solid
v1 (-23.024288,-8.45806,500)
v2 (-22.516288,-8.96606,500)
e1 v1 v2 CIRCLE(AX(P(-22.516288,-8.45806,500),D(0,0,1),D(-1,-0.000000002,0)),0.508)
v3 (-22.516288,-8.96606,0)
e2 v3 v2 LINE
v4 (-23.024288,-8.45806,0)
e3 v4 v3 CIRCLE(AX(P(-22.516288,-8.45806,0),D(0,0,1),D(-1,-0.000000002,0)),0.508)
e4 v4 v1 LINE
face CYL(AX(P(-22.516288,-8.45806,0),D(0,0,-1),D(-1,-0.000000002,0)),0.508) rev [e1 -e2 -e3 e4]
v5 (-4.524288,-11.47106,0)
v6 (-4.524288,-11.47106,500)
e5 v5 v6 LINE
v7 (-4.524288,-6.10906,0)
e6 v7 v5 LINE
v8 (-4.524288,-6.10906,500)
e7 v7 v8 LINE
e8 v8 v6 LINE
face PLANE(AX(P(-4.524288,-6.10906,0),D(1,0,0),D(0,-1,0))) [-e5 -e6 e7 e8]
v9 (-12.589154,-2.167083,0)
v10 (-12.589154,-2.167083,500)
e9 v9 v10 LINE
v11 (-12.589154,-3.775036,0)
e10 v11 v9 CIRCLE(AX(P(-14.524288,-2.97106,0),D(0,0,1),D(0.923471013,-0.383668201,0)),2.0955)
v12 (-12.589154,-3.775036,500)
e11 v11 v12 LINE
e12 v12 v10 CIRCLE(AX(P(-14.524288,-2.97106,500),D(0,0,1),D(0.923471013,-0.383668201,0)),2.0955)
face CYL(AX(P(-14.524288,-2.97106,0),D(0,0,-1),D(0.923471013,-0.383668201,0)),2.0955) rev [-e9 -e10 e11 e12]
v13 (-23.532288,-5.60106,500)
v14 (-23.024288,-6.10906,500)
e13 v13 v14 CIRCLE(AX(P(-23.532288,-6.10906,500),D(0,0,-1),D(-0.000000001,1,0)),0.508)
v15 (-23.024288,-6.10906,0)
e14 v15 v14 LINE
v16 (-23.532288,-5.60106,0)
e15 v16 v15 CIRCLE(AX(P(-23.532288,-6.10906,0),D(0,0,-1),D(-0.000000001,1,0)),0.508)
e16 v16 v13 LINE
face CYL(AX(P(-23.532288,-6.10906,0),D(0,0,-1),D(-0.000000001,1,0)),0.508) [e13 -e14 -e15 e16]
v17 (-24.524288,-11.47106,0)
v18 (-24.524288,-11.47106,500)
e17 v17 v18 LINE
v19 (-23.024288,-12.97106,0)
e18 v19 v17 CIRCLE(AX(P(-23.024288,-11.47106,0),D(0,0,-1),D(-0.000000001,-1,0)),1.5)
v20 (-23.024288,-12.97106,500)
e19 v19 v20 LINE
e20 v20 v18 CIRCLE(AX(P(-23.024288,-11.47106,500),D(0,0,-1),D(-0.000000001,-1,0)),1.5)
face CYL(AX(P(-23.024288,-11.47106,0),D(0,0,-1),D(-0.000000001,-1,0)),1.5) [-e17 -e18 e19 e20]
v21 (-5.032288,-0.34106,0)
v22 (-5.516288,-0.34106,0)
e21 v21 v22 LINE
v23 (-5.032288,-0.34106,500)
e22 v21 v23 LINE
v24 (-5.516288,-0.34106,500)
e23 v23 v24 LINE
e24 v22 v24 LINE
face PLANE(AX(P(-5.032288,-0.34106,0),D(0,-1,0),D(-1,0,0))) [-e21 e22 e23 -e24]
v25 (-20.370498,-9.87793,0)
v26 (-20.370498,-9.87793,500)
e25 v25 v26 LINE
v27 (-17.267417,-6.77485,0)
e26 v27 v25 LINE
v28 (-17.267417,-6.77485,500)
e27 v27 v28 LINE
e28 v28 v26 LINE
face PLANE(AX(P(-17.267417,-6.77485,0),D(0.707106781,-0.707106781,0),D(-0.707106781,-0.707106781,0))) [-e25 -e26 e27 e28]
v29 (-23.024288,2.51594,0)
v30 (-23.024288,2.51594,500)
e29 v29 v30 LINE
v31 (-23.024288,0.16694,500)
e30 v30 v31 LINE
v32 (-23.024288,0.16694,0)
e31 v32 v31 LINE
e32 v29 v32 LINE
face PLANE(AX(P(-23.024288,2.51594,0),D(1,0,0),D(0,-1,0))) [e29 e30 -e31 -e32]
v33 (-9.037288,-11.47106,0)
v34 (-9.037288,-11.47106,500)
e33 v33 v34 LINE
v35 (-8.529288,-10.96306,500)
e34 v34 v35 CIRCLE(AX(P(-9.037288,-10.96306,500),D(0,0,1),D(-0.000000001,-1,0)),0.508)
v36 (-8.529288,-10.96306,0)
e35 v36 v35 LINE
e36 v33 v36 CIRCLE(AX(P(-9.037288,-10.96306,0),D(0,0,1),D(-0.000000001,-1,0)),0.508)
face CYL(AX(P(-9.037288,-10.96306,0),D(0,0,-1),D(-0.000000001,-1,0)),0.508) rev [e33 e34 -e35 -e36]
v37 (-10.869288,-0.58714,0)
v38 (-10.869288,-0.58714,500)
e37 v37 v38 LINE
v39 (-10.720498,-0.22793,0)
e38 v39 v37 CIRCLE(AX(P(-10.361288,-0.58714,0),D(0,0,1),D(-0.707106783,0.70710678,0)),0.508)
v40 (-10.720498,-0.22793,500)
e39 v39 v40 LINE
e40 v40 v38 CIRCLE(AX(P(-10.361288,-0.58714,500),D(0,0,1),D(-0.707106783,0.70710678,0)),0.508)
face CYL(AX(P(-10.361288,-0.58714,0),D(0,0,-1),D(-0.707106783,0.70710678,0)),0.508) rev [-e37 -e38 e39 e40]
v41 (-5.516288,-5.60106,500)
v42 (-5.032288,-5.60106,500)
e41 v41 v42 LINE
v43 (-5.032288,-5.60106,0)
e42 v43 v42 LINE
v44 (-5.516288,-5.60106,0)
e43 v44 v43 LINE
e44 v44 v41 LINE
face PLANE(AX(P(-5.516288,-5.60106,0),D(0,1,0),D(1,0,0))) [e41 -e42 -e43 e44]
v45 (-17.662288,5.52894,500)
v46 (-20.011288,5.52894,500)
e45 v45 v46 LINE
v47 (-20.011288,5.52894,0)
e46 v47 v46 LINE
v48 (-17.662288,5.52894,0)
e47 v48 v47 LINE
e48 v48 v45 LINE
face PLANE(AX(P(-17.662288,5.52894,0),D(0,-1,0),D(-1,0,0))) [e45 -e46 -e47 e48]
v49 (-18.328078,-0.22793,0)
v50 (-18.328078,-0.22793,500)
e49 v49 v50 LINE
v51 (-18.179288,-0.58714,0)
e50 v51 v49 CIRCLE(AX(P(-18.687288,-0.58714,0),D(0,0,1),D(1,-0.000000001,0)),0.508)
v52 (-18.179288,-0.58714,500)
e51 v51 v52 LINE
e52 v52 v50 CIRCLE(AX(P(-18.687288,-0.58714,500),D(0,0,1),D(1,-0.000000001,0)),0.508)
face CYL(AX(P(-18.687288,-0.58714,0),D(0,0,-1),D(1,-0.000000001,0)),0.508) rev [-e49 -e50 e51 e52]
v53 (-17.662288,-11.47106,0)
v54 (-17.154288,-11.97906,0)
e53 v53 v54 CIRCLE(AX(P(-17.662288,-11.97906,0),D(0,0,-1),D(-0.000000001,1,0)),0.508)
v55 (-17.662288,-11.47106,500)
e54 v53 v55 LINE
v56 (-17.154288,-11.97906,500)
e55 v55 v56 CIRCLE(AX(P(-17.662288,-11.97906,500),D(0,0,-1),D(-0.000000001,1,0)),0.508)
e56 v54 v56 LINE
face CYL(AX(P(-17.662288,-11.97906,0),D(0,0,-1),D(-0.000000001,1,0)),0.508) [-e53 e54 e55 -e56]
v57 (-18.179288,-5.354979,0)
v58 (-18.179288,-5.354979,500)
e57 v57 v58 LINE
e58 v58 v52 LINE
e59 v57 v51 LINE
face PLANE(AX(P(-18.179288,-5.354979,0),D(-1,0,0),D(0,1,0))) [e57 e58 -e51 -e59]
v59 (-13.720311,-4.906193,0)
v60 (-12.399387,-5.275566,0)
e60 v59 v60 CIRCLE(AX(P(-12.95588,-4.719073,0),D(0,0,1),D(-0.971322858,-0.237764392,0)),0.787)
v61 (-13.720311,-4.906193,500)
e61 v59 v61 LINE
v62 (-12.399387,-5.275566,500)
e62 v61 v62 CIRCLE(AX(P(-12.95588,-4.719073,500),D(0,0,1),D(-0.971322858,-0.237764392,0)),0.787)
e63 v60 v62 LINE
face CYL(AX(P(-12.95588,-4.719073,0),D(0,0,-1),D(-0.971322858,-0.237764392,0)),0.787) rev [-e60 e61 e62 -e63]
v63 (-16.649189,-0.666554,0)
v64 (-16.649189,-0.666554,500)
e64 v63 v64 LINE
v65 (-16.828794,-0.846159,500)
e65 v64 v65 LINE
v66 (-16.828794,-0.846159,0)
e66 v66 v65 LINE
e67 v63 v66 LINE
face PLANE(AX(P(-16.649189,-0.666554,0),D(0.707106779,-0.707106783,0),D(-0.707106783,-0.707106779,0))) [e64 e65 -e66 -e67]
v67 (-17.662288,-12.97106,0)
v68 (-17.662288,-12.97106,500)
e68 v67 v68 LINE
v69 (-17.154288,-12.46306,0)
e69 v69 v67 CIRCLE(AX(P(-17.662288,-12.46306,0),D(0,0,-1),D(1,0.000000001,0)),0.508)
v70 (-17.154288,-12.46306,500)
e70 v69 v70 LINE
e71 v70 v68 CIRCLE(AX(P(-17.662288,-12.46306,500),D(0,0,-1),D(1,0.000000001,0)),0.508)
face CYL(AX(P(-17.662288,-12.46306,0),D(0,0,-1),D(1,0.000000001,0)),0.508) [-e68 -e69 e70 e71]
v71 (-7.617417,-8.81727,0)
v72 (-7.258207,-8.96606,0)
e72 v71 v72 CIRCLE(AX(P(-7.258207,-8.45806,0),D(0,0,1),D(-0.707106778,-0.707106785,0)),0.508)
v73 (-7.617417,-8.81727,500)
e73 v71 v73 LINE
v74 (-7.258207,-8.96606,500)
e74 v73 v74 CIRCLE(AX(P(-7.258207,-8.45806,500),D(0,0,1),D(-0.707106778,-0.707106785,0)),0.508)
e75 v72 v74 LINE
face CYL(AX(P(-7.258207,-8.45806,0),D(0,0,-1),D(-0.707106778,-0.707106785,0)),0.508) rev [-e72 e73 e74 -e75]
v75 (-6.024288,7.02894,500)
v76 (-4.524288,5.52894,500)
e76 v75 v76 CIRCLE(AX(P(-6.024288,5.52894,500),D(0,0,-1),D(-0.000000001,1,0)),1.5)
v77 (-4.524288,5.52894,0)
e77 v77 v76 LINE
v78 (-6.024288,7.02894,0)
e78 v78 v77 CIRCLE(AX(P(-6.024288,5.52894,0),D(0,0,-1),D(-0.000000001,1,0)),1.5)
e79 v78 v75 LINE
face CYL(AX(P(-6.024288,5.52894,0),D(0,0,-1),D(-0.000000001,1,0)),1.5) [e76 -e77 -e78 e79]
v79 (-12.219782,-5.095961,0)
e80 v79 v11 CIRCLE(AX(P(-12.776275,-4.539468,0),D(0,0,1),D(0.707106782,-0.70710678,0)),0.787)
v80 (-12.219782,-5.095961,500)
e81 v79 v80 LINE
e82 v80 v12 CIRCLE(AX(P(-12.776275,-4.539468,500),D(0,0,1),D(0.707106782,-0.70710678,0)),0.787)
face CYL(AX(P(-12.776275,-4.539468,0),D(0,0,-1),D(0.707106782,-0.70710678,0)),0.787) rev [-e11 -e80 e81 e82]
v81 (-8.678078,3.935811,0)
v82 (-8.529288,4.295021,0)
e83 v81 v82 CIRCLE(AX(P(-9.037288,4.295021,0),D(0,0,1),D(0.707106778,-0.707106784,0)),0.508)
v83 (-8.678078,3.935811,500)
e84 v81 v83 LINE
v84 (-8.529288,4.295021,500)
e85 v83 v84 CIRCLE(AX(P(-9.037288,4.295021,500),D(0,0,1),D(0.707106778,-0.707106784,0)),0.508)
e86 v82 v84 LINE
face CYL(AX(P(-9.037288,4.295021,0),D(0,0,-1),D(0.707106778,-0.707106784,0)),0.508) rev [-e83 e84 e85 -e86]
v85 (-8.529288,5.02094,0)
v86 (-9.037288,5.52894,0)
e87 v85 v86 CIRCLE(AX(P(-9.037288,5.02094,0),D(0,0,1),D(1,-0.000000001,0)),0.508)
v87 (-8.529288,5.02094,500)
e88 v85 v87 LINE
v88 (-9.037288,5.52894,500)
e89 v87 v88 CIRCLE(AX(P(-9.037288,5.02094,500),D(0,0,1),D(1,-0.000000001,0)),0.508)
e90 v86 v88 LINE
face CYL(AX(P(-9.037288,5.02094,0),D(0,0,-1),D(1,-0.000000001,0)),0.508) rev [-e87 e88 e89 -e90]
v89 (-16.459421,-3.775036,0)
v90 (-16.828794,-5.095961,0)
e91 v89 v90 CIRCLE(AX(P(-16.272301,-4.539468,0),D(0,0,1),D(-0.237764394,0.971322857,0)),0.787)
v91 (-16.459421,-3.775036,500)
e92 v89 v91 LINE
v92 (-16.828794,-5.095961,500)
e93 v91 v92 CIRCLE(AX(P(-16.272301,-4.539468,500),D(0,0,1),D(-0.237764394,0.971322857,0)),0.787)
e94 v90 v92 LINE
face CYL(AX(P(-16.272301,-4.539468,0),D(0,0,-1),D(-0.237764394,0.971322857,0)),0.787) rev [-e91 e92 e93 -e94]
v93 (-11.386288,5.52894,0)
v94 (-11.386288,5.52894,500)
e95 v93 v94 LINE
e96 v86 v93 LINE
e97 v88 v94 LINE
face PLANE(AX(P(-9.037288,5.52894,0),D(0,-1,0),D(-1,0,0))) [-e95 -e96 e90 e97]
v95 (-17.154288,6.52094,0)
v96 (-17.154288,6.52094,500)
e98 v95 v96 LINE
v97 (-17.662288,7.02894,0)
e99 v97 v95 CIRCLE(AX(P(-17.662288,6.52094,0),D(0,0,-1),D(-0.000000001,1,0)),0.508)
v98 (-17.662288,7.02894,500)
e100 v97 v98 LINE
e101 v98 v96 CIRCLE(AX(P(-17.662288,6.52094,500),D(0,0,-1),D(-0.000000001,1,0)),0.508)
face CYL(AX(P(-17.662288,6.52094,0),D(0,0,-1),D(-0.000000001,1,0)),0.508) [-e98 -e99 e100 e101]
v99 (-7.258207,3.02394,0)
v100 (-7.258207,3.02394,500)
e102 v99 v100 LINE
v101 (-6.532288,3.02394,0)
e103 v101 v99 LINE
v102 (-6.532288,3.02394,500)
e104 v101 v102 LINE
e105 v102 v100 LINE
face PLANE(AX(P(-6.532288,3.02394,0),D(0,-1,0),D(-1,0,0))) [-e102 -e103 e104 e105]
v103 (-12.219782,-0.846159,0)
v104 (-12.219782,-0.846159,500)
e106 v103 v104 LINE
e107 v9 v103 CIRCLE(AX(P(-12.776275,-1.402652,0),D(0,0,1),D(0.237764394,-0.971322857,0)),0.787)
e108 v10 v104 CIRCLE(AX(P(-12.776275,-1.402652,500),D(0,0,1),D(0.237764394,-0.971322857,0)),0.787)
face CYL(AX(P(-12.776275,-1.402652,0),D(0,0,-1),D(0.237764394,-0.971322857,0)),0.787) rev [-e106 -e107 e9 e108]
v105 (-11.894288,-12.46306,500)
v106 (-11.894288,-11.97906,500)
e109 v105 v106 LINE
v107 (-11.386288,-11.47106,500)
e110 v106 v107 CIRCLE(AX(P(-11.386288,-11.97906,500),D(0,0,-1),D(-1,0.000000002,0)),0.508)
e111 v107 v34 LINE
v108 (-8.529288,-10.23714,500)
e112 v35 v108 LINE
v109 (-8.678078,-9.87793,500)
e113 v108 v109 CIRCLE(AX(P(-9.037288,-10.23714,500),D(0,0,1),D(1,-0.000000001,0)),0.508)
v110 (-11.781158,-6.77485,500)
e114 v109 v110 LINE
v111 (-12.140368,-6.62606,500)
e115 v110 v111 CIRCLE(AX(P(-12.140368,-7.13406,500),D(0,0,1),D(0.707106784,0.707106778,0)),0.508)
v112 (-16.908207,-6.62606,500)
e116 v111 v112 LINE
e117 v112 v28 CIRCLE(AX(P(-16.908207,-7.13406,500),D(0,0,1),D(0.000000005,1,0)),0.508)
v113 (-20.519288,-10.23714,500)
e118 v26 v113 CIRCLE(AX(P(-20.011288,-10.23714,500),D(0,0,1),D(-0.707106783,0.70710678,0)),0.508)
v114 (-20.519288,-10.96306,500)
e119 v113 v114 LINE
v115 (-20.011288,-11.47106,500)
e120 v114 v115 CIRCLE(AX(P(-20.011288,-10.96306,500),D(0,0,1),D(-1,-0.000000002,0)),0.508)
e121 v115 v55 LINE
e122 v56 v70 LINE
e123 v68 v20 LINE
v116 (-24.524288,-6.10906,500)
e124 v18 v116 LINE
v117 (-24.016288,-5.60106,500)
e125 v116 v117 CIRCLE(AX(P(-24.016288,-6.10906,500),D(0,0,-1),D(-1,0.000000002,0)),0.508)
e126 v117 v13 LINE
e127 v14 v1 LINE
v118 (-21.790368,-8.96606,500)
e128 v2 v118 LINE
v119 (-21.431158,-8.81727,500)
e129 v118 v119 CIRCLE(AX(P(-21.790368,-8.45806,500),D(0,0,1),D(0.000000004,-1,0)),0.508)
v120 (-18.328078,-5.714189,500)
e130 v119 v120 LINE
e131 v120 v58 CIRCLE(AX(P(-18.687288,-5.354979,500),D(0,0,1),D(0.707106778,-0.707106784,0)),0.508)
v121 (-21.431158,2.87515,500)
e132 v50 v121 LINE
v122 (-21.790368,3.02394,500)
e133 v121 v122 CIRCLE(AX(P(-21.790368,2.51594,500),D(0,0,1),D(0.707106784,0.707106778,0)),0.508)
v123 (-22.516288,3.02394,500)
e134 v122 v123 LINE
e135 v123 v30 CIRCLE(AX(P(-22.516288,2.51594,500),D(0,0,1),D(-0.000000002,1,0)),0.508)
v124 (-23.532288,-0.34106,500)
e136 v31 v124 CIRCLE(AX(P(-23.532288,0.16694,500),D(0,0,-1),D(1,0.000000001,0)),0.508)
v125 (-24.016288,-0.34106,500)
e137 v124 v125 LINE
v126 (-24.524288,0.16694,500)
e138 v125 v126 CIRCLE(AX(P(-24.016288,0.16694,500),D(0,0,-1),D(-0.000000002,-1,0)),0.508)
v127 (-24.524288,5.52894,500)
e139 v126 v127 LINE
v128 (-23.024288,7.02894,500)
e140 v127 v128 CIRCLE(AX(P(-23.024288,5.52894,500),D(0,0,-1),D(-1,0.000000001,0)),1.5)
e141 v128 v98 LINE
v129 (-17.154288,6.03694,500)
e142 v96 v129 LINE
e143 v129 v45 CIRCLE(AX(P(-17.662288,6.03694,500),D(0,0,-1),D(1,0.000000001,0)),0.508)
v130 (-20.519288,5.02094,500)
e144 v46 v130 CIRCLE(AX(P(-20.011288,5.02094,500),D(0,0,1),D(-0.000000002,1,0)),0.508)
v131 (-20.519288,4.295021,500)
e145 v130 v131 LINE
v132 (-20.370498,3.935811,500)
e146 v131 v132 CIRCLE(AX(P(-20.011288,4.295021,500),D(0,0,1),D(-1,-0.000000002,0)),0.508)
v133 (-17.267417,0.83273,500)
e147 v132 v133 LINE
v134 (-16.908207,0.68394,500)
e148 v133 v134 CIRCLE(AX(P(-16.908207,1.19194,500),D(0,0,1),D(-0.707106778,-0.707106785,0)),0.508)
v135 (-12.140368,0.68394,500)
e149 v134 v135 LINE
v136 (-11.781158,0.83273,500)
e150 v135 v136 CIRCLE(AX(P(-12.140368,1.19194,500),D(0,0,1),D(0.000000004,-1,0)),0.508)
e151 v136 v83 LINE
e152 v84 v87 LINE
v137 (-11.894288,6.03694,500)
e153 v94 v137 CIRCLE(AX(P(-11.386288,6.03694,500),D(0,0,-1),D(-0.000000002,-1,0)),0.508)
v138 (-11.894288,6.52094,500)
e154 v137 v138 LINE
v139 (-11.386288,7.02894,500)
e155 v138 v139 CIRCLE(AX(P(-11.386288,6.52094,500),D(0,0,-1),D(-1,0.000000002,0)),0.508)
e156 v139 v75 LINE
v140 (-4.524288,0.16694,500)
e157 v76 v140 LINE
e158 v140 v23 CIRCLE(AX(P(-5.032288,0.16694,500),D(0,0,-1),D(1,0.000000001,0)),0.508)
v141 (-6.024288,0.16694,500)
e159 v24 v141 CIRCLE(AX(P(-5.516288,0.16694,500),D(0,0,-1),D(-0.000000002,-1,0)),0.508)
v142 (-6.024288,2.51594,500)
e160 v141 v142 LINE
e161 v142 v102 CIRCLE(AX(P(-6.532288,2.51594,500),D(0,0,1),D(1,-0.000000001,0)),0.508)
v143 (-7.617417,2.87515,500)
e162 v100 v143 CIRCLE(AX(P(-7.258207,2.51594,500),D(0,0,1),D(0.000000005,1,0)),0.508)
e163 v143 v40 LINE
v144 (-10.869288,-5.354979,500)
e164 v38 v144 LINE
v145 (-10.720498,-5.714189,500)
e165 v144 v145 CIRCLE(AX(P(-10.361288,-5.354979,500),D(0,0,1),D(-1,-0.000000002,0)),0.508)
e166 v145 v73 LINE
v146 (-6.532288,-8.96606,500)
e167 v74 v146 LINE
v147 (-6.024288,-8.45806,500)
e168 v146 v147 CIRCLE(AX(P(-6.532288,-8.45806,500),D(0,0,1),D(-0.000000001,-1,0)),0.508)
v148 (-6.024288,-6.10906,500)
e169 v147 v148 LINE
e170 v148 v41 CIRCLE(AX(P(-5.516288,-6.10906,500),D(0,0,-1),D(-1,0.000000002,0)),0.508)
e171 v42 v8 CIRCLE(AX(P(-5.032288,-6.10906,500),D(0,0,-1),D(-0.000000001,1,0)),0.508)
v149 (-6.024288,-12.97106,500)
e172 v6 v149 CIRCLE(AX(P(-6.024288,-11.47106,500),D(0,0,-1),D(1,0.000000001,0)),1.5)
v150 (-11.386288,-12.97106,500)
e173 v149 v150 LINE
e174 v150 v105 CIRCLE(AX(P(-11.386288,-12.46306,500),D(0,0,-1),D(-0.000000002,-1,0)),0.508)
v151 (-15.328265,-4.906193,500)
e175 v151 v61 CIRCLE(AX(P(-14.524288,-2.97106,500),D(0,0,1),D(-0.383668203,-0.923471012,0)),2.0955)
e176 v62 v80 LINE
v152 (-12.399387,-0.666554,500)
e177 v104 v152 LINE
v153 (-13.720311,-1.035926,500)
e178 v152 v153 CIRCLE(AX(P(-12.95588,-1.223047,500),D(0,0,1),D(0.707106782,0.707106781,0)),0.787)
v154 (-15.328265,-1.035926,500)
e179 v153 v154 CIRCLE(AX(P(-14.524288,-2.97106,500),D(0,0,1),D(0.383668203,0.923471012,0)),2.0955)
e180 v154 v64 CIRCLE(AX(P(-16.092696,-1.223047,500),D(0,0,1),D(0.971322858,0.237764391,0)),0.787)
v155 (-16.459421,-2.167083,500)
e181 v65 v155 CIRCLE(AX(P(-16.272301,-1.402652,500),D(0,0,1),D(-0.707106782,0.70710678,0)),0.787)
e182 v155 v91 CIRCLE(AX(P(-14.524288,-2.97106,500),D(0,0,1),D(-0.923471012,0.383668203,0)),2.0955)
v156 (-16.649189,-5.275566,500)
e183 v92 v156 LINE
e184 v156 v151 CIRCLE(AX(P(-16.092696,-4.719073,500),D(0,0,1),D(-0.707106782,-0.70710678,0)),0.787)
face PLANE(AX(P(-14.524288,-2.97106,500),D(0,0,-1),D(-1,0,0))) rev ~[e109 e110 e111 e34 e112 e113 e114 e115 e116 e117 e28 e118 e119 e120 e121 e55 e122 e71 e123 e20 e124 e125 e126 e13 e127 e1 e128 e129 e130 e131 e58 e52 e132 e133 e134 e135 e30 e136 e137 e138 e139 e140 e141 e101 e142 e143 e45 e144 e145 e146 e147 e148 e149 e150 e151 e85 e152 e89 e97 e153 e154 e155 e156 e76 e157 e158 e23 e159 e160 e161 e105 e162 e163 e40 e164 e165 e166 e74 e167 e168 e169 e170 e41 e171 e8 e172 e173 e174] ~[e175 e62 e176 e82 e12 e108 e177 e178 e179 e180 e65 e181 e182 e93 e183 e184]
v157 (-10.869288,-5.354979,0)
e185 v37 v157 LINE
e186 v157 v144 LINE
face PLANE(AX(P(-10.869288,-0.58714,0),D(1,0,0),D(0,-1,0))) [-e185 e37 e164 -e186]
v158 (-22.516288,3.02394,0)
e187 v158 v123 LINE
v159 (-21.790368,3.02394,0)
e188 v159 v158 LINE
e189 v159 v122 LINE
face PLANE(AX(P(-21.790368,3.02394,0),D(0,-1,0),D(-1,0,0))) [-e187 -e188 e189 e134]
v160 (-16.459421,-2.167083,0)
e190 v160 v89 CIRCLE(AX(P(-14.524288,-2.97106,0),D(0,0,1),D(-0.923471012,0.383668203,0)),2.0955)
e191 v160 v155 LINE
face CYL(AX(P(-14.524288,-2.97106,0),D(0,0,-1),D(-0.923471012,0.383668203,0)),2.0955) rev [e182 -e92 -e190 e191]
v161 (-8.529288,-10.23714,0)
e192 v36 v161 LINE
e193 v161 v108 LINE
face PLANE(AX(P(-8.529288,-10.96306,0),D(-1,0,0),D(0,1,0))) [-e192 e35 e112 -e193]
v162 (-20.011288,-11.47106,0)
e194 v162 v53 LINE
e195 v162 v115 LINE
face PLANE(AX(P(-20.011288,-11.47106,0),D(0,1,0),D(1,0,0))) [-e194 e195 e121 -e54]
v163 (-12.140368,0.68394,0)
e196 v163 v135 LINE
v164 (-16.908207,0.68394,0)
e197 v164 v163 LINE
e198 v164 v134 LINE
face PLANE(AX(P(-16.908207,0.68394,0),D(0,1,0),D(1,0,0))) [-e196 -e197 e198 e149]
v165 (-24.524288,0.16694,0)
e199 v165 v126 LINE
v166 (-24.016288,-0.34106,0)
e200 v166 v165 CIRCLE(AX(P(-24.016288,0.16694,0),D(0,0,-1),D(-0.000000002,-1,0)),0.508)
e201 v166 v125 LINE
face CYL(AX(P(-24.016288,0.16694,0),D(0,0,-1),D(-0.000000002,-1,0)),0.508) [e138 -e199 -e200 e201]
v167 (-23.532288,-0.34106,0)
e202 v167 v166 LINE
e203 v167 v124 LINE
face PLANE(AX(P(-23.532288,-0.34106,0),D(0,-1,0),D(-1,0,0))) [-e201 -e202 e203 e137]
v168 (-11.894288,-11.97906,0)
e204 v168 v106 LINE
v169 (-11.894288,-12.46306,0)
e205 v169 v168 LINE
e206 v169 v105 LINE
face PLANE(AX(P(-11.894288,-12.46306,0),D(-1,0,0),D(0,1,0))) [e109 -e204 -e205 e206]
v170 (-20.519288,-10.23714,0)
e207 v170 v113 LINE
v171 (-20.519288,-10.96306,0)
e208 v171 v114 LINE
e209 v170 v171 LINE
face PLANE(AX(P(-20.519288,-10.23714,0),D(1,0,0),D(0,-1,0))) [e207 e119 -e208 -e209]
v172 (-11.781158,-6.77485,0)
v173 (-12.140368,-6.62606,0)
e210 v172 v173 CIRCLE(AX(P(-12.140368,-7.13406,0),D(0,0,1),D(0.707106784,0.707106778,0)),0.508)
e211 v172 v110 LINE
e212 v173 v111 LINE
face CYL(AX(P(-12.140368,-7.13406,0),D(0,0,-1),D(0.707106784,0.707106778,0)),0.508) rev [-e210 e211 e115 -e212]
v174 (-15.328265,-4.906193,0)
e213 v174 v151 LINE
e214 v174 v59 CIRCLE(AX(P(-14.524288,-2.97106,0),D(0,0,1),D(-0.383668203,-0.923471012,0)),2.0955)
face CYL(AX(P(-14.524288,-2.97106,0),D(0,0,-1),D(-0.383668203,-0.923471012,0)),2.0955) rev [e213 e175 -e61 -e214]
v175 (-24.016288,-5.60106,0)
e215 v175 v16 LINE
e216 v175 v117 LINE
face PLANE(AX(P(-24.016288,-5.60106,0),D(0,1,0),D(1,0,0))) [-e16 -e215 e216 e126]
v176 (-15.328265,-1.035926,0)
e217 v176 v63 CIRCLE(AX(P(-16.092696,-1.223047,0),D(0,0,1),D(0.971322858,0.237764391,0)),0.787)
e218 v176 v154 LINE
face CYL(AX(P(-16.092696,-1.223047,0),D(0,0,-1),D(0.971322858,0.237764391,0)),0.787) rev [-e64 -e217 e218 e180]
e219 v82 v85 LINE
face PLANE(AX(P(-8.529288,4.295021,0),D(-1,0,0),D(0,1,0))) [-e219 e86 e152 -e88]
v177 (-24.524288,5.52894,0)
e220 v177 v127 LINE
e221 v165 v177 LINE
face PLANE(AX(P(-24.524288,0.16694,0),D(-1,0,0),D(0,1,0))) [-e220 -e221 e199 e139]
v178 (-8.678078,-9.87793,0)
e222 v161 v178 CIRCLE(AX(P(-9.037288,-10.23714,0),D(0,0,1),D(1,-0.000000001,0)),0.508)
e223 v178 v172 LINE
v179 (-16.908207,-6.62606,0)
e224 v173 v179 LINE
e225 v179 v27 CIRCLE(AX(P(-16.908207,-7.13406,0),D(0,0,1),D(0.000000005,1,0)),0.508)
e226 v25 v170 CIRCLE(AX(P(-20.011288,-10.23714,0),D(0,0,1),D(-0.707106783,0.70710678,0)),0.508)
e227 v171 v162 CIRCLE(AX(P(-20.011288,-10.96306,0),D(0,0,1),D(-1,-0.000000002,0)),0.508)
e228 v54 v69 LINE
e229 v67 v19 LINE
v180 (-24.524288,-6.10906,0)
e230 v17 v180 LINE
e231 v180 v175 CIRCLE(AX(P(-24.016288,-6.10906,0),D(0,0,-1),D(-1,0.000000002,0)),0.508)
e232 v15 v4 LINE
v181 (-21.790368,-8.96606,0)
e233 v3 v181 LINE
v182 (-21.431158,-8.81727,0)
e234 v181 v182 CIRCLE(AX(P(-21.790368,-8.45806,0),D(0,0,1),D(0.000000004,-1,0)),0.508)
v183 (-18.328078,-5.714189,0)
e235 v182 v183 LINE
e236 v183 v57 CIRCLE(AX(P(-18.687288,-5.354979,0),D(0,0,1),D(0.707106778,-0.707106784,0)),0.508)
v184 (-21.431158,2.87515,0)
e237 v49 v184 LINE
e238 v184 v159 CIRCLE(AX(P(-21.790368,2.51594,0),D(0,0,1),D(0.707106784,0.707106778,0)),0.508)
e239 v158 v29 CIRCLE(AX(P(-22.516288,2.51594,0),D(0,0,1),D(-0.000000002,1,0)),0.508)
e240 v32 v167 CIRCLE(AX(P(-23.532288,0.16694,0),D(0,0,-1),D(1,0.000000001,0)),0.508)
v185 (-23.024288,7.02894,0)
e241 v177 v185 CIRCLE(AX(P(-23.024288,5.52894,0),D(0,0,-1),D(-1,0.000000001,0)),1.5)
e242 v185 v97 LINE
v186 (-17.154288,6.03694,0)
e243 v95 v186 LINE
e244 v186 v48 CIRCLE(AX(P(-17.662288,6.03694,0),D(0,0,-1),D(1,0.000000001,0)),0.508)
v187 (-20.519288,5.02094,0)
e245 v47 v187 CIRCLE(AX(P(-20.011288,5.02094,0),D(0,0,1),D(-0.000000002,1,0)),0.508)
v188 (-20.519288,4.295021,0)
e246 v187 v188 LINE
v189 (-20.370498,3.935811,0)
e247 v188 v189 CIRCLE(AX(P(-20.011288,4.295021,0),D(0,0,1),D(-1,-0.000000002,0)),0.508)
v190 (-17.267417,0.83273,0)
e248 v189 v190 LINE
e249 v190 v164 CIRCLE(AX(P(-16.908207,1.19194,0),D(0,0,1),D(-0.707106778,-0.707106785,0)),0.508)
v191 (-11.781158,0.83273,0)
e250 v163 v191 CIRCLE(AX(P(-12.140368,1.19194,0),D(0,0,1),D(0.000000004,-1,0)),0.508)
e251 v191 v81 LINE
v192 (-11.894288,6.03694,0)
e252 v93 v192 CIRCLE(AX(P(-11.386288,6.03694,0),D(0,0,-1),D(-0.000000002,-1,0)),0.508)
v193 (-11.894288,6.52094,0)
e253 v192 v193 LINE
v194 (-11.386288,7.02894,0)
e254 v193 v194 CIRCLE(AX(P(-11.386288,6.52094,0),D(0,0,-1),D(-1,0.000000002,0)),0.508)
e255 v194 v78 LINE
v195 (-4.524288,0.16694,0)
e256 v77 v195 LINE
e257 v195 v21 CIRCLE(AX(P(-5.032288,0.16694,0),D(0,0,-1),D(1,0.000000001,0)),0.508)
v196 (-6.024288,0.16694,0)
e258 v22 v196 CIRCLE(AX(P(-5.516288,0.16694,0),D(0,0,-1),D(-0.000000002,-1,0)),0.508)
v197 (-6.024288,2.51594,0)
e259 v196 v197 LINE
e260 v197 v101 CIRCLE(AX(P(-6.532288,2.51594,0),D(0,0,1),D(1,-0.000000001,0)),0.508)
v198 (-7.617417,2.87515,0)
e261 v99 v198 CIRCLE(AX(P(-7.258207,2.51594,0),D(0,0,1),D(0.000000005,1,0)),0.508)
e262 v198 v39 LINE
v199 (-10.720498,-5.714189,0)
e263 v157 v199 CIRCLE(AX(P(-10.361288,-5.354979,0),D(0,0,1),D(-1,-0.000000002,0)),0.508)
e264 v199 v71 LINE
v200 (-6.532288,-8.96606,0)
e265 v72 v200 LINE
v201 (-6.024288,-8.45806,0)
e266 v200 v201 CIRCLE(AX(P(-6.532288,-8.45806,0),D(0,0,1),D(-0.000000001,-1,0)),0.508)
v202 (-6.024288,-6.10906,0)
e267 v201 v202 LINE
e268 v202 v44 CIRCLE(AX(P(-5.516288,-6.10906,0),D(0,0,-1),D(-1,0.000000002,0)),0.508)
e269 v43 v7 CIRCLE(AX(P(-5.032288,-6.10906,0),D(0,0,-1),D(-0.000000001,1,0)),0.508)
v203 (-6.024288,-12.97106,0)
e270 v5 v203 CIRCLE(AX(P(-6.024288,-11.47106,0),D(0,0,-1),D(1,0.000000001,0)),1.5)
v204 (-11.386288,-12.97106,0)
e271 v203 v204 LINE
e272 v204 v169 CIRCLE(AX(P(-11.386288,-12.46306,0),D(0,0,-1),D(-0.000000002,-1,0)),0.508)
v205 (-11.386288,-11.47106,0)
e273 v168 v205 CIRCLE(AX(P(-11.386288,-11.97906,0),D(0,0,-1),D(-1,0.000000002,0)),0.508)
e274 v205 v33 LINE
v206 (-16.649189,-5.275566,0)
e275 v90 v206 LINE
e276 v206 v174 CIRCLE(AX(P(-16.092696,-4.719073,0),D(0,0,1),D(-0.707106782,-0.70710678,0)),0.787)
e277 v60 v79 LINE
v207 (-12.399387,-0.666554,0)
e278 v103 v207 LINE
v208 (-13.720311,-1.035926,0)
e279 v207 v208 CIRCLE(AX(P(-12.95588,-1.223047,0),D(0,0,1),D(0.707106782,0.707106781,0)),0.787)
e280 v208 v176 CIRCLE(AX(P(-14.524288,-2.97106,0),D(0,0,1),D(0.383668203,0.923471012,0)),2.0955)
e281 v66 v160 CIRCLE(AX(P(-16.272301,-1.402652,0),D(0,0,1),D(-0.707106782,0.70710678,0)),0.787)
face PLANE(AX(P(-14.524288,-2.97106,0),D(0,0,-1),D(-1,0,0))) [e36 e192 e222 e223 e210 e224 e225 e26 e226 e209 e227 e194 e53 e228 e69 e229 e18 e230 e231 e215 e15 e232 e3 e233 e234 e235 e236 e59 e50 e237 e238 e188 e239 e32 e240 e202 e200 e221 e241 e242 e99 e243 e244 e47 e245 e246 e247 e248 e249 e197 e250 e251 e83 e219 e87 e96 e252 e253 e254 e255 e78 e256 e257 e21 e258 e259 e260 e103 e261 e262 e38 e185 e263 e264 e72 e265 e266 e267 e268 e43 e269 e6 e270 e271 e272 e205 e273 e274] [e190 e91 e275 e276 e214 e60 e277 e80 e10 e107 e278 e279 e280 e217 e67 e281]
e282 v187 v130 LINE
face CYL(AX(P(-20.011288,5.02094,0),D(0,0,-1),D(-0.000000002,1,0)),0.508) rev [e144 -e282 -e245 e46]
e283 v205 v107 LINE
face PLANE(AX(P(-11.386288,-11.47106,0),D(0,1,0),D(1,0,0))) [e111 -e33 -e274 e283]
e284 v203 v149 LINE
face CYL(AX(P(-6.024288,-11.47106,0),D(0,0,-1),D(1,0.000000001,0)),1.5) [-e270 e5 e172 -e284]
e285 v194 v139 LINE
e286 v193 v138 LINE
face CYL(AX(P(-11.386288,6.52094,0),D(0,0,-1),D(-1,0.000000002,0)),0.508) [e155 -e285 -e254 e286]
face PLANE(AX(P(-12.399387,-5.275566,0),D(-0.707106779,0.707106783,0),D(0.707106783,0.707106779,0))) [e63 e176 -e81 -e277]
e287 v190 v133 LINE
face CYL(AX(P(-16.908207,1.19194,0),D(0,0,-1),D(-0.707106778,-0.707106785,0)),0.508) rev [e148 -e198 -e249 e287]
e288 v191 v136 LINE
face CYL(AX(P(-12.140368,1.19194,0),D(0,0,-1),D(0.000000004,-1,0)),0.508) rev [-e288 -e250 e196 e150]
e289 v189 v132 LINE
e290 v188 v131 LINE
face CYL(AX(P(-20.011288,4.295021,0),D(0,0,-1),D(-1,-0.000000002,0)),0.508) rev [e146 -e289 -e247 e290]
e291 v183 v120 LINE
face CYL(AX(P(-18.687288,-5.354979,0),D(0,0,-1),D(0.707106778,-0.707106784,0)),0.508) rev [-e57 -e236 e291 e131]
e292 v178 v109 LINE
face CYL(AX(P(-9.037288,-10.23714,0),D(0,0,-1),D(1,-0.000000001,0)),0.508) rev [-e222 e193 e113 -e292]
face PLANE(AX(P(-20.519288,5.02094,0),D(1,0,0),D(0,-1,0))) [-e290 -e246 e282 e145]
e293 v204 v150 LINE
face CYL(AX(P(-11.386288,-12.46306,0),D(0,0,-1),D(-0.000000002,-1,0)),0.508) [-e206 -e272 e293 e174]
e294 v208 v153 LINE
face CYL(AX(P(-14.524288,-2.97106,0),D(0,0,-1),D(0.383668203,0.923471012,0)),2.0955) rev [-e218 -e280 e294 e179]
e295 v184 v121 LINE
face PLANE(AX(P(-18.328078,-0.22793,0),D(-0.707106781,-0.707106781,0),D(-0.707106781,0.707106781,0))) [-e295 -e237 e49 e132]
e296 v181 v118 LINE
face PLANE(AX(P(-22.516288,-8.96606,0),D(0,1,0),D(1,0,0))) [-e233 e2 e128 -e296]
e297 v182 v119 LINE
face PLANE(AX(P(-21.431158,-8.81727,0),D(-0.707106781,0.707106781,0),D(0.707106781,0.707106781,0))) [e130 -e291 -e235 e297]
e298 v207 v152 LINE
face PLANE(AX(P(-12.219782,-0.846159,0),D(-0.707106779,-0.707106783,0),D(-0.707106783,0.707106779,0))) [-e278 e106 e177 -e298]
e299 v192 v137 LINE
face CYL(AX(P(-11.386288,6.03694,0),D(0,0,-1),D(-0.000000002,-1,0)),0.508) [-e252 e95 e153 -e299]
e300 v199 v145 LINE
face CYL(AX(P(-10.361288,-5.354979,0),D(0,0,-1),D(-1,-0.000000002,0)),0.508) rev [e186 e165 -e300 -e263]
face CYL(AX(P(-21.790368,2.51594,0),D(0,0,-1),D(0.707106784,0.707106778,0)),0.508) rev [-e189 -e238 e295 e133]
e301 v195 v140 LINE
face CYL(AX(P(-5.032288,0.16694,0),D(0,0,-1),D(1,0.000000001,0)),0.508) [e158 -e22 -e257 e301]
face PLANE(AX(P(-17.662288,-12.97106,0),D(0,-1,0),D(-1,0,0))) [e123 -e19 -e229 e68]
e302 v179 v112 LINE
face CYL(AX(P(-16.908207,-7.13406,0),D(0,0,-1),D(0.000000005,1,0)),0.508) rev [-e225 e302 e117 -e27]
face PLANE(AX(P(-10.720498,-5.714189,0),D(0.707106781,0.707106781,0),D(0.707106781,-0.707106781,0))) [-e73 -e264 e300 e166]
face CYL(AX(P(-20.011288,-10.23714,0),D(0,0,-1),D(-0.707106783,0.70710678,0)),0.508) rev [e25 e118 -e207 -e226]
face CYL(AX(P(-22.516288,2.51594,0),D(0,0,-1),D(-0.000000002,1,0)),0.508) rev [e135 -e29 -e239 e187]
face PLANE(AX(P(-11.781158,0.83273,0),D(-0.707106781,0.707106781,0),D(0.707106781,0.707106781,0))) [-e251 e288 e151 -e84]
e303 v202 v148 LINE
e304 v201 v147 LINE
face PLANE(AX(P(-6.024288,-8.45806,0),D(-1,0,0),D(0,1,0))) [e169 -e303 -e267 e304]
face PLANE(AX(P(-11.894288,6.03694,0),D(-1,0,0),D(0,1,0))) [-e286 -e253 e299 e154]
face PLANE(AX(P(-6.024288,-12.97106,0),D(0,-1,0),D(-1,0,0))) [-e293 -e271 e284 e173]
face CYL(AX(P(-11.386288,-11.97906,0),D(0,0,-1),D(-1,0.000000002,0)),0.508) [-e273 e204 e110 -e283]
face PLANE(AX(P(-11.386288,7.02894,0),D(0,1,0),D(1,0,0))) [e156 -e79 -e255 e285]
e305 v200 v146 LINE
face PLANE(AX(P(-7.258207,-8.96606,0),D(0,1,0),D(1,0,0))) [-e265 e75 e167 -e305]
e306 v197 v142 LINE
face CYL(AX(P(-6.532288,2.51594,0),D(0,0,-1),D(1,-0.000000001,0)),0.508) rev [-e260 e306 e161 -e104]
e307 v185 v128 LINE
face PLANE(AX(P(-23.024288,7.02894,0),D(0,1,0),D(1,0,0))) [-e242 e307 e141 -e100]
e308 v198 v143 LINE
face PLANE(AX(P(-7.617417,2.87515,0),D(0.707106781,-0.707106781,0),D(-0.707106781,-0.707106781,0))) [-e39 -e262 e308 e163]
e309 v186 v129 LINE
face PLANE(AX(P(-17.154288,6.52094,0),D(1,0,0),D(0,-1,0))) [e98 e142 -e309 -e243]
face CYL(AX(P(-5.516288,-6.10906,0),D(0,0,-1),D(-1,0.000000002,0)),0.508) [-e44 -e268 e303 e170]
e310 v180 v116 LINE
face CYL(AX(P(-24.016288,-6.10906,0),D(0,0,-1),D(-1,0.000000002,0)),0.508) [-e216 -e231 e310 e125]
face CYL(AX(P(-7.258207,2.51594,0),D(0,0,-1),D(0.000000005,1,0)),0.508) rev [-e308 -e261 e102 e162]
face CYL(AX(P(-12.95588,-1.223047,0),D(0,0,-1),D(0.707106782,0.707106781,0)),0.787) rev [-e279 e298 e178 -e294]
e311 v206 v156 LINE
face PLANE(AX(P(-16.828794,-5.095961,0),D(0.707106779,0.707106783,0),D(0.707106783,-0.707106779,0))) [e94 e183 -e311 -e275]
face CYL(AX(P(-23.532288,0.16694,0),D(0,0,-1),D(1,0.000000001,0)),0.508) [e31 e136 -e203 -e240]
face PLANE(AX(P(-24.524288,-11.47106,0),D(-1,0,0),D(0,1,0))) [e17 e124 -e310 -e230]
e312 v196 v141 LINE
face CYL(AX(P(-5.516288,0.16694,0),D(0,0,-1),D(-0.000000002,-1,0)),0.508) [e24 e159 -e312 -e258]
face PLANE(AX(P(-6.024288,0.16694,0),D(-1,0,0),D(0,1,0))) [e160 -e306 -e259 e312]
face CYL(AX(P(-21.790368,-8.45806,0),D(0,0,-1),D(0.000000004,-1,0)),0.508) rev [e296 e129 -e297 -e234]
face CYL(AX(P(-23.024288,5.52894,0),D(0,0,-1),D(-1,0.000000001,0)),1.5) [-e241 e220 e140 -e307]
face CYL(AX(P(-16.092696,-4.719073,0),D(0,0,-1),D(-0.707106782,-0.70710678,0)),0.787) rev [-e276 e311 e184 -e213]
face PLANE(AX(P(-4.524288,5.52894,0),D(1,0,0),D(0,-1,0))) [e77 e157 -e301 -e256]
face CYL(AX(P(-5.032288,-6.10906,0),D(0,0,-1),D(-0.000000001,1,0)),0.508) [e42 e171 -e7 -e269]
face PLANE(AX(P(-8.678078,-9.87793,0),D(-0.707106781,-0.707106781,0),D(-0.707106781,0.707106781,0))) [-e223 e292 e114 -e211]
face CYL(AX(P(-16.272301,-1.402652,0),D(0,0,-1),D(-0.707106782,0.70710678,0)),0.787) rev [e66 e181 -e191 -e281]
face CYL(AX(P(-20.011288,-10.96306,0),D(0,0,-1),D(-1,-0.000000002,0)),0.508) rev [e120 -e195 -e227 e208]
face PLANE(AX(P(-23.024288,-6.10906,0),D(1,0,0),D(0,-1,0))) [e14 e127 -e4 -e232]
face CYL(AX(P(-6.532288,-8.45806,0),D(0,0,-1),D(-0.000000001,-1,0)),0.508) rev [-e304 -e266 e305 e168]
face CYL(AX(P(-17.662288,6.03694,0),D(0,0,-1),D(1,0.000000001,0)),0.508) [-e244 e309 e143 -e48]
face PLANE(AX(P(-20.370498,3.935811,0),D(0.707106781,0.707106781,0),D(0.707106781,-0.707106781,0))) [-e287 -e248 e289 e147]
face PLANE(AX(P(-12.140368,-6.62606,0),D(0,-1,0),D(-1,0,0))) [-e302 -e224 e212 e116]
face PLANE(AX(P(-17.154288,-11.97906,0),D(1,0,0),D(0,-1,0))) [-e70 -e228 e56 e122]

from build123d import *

# Parameters (mm, degrees)
EXTRUDE1_DEPTH = 500


with BuildPart() as part:
    # Sketch1 → Extrude1 (new body)
    with BuildSketch(Plane.XY):
        with BuildLine():
            Line((-5.032287798, -0.341059771), (-5.516287798, -0.341059771))
            ThreePointArc((-5.516287798, -0.341059771), (-5.875498042, -0.192270016), (-6.024287798, 0.166940229))
            Line((-6.024287798, 0.166940229), (-6.024287798, 2.515940229))
            ThreePointArc((-6.024287798, 2.515940229), (-6.173077553, 2.875150474), (-6.532287798, 3.023940229))
            Line((-6.532287798, 3.023940229), (-7.258207136, 3.023940229))
            ThreePointArc((-7.258207136, 3.023940229), (-7.45261032, 2.985271032), (-7.617417381, 2.875150474))
            Line((-7.617417381, 2.875150474), (-10.720498042, -0.227930187))
            ThreePointArc((-10.720498042, -0.227930187), (-10.8306186, -0.392737249), (-10.869287798, -0.587140432))
            Line((-10.869287798, -0.587140432), (-10.869287798, -5.354979109))
            ThreePointArc((-10.869287798, -5.354979109), (-10.8306186, -5.549382293), (-10.720498042, -5.714189354))
            Line((-10.720498042, -5.714189354), (-7.617417381, -8.817270016))
            ThreePointArc((-7.617417381, -8.817270016), (-7.45261032, -8.927390573), (-7.258207136, -8.966059771))
            Line((-7.258207136, -8.966059771), (-6.532287798, -8.966059771))
            ThreePointArc((-6.532287798, -8.966059771), (-6.173077553, -8.817270016), (-6.024287798, -8.458059771))
            Line((-6.024287798, -8.458059771), (-6.024287798, -6.109059771))
            ThreePointArc((-6.024287798, -6.109059771), (-5.875498042, -5.749849526), (-5.516287798, -5.601059771))
            Line((-5.516287798, -5.601059771), (-5.032287798, -5.601059771))
            ThreePointArc((-5.032287798, -5.601059771), (-4.673077553, -5.749849526), (-4.524287798, -6.109059771))
            Line((-4.524287798, -6.109059771), (-4.524287798, -11.471059771))
            ThreePointArc((-4.524287798, -11.471059771), (-4.963627626, -12.531719943), (-6.024287798, -12.971059771))
            Line((-6.024287798, -12.971059771), (-11.386287798, -12.971059771))
            ThreePointArc((-11.386287798, -12.971059771), (-11.745498042, -12.822270016), (-11.894287798, -12.463059771))
            Line((-11.894287798, -12.463059771), (-11.894287798, -11.979059771))
            ThreePointArc((-11.894287798, -11.979059771), (-11.745498042, -11.619849526), (-11.386287798, -11.471059771))
            Line((-11.386287798, -11.471059771), (-9.037287798, -11.471059771))
            ThreePointArc((-9.037287798, -11.471059771), (-8.678077553, -11.322270016), (-8.529287798, -10.963059771))
            Line((-8.529287798, -10.963059771), (-8.529287798, -10.237140432))
            ThreePointArc((-8.529287798, -10.237140432), (-8.567956995, -10.042737249), (-8.678077553, -9.877930187))
            Line((-8.678077553, -9.877930187), (-11.781158214, -6.774849526))
            ThreePointArc((-11.781158214, -6.774849526), (-11.945965275, -6.664728968), (-12.140368459, -6.626059771))
            Line((-12.140368459, -6.626059771), (-16.908207136, -6.626059771))
            ThreePointArc((-16.908207136, -6.626059771), (-17.10261032, -6.664728968), (-17.267417381, -6.774849526))
            Line((-17.267417381, -6.774849526), (-20.370498042, -9.877930187))
            ThreePointArc((-20.370498042, -9.877930187), (-20.4806186, -10.042737249), (-20.519287798, -10.237140432))
            Line((-20.519287798, -10.237140432), (-20.519287798, -10.963059771))
            ThreePointArc((-20.519287798, -10.963059771), (-20.370498042, -11.322270016), (-20.011287798, -11.471059771))
            Line((-20.011287798, -11.471059771), (-17.662287798, -11.471059771))
            ThreePointArc((-17.662287798, -11.471059771), (-17.303077553, -11.619849526), (-17.154287798, -11.979059771))
            Line((-17.154287798, -11.979059771), (-17.154287798, -12.463059771))
            ThreePointArc((-17.154287798, -12.463059771), (-17.303077553, -12.822270016), (-17.662287798, -12.971059771))
            Line((-17.662287798, -12.971059771), (-23.024287798, -12.971059771))
            ThreePointArc((-23.024287798, -12.971059771), (-24.084947969, -12.531719943), (-24.524287798, -11.471059771))
            Line((-24.524287798, -11.471059771), (-24.524287798, -6.109059771))
            ThreePointArc((-24.524287798, -6.109059771), (-24.375498042, -5.749849526), (-24.016287798, -5.601059771))
            Line((-24.016287798, -5.601059771), (-23.532287798, -5.601059771))
            ThreePointArc((-23.532287798, -5.601059771), (-23.173077553, -5.749849526), (-23.024287798, -6.109059771))
            Line((-23.024287798, -6.109059771), (-23.024287798, -8.458059771))
            ThreePointArc((-23.024287798, -8.458059771), (-22.875498042, -8.817270016), (-22.516287798, -8.966059771))
            Line((-22.516287798, -8.966059771), (-21.790368459, -8.966059771))
            ThreePointArc((-21.790368459, -8.966059771), (-21.595965275, -8.927390573), (-21.431158214, -8.817270016))
            Line((-21.431158214, -8.817270016), (-18.328077553, -5.714189354))
            ThreePointArc((-18.328077553, -5.714189354), (-18.217956995, -5.549382293), (-18.179287798, -5.354979109))
            Line((-18.179287798, -5.354979109), (-18.179287798, -0.587140432))
            ThreePointArc((-18.179287798, -0.587140432), (-18.217956995, -0.392737249), (-18.328077553, -0.227930187))
            Line((-18.328077553, -0.227930187), (-21.431158214, 2.875150474))
            ThreePointArc((-21.431158214, 2.875150474), (-21.595965275, 2.985271032), (-21.790368459, 3.023940229))
            Line((-21.790368459, 3.023940229), (-22.516287798, 3.023940229))
            ThreePointArc((-22.516287798, 3.023940229), (-22.875498042, 2.875150474), (-23.024287798, 2.515940229))
            Line((-23.024287798, 2.515940229), (-23.024287798, 0.166940229))
            ThreePointArc((-23.024287798, 0.166940229), (-23.173077553, -0.192270016), (-23.532287798, -0.341059771))
            Line((-23.532287798, -0.341059771), (-24.016287798, -0.341059771))
            ThreePointArc((-24.016287798, -0.341059771), (-24.375498042, -0.192270016), (-24.524287798, 0.166940229))
            Line((-24.524287798, 0.166940229), (-24.524287798, 5.528940229))
            ThreePointArc((-24.524287798, 5.528940229), (-24.084947969, 6.589600401), (-23.024287798, 7.028940229))
            Line((-23.024287798, 7.028940229), (-17.662287798, 7.028940229))
            ThreePointArc((-17.662287798, 7.028940229), (-17.303077553, 6.880150474), (-17.154287798, 6.520940229))
            Line((-17.154287798, 6.520940229), (-17.154287798, 6.036940229))
            ThreePointArc((-17.154287798, 6.036940229), (-17.303077553, 5.677729984), (-17.662287798, 5.528940229))
            Line((-17.662287798, 5.528940229), (-20.011287798, 5.528940229))
            ThreePointArc((-20.011287798, 5.528940229), (-20.370498042, 5.380150474), (-20.519287798, 5.020940229))
            Line((-20.519287798, 5.020940229), (-20.519287798, 4.295020891))
            ThreePointArc((-20.519287798, 4.295020891), (-20.4806186, 4.100617707), (-20.370498042, 3.935810646))
            Line((-20.370498042, 3.935810646), (-17.267417381, 0.832729984))
            ThreePointArc((-17.267417381, 0.832729984), (-17.10261032, 0.722609427), (-16.908207136, 0.683940229))
            Line((-16.908207136, 0.683940229), (-12.140368459, 0.683940229))
            ThreePointArc((-12.140368459, 0.683940229), (-11.945965275, 0.722609427), (-11.781158214, 0.832729984))
            Line((-11.781158214, 0.832729984), (-8.678077553, 3.935810646))
            ThreePointArc((-8.678077553, 3.935810646), (-8.567956995, 4.100617707), (-8.529287798, 4.295020891))
            Line((-8.529287798, 4.295020891), (-8.529287798, 5.020940229))
            ThreePointArc((-8.529287798, 5.020940229), (-8.678077553, 5.380150474), (-9.037287798, 5.528940229))
            Line((-9.037287798, 5.528940229), (-11.386287798, 5.528940229))
            ThreePointArc((-11.386287798, 5.528940229), (-11.745498042, 5.677729984), (-11.894287798, 6.036940229))
            Line((-11.894287798, 6.036940229), (-11.894287798, 6.520940229))
            ThreePointArc((-11.894287798, 6.520940229), (-11.745498042, 6.880150474), (-11.386287798, 7.028940229))
            Line((-11.386287798, 7.028940229), (-6.024287798, 7.028940229))
            ThreePointArc((-6.024287798, 7.028940229), (-4.963627626, 6.589600401), (-4.524287798, 5.528940229))
            Line((-4.524287798, 5.528940229), (-4.524287798, 0.166940229))
            ThreePointArc((-4.524287798, 0.166940229), (-4.673077553, -0.192270016), (-5.032287798, -0.341059771))
        make_face()
        with BuildLine():
            Line((-12.399386954, -5.275565737), (-12.219781831, -5.095960615))
            ThreePointArc((-12.219781831, -5.095960615), (-12.018349781, -4.327527582), (-12.589154291, -3.775036489))
            ThreePointArc((-12.589154291, -3.775036489), (-12.428787798, -2.971059771), (-12.589154291, -2.167083053))
            ThreePointArc((-12.589154291, -2.167083053), (-12.018349781, -1.61459196), (-12.219781831, -0.846158927))
            Line((-12.219781831, -0.846158927), (-12.399386954, -0.666553805))
            ThreePointArc((-12.399386954, -0.666553805), (-13.167819987, -0.465121754), (-13.72031108, -1.035926265))
            ThreePointArc((-13.72031108, -1.035926265), (-14.524287798, -0.875559771), (-15.328264516, -1.035926265))
            ThreePointArc((-15.328264516, -1.035926265), (-15.880755608, -0.465121754), (-16.649188641, -0.666553805))
            Line((-16.649188641, -0.666553805), (-16.828793764, -0.846158927))
            ThreePointArc((-16.828793764, -0.846158927), (-17.030225814, -1.61459196), (-16.459421304, -2.167083053))
            ThreePointArc((-16.459421304, -2.167083053), (-16.619787798, -2.971059771), (-16.459421304, -3.775036489))
            ThreePointArc((-16.459421304, -3.775036489), (-17.030225814, -4.327527582), (-16.828793764, -5.095960615))
            Line((-16.828793764, -5.095960615), (-16.649188641, -5.275565737))
            ThreePointArc((-16.649188641, -5.275565737), (-15.880755608, -5.476997788), (-15.328264516, -4.906193277))
            ThreePointArc((-15.328264516, -4.906193277), (-14.524287798, -5.066559771), (-13.72031108, -4.906193277))
            ThreePointArc((-13.72031108, -4.906193277), (-13.167819987, -5.476997788), (-12.399386954, -5.275565737))
        make_face(mode=Mode.SUBTRACT)
    extrude(amount=EXTRUDE1_DEPTH)


solid = part.part
